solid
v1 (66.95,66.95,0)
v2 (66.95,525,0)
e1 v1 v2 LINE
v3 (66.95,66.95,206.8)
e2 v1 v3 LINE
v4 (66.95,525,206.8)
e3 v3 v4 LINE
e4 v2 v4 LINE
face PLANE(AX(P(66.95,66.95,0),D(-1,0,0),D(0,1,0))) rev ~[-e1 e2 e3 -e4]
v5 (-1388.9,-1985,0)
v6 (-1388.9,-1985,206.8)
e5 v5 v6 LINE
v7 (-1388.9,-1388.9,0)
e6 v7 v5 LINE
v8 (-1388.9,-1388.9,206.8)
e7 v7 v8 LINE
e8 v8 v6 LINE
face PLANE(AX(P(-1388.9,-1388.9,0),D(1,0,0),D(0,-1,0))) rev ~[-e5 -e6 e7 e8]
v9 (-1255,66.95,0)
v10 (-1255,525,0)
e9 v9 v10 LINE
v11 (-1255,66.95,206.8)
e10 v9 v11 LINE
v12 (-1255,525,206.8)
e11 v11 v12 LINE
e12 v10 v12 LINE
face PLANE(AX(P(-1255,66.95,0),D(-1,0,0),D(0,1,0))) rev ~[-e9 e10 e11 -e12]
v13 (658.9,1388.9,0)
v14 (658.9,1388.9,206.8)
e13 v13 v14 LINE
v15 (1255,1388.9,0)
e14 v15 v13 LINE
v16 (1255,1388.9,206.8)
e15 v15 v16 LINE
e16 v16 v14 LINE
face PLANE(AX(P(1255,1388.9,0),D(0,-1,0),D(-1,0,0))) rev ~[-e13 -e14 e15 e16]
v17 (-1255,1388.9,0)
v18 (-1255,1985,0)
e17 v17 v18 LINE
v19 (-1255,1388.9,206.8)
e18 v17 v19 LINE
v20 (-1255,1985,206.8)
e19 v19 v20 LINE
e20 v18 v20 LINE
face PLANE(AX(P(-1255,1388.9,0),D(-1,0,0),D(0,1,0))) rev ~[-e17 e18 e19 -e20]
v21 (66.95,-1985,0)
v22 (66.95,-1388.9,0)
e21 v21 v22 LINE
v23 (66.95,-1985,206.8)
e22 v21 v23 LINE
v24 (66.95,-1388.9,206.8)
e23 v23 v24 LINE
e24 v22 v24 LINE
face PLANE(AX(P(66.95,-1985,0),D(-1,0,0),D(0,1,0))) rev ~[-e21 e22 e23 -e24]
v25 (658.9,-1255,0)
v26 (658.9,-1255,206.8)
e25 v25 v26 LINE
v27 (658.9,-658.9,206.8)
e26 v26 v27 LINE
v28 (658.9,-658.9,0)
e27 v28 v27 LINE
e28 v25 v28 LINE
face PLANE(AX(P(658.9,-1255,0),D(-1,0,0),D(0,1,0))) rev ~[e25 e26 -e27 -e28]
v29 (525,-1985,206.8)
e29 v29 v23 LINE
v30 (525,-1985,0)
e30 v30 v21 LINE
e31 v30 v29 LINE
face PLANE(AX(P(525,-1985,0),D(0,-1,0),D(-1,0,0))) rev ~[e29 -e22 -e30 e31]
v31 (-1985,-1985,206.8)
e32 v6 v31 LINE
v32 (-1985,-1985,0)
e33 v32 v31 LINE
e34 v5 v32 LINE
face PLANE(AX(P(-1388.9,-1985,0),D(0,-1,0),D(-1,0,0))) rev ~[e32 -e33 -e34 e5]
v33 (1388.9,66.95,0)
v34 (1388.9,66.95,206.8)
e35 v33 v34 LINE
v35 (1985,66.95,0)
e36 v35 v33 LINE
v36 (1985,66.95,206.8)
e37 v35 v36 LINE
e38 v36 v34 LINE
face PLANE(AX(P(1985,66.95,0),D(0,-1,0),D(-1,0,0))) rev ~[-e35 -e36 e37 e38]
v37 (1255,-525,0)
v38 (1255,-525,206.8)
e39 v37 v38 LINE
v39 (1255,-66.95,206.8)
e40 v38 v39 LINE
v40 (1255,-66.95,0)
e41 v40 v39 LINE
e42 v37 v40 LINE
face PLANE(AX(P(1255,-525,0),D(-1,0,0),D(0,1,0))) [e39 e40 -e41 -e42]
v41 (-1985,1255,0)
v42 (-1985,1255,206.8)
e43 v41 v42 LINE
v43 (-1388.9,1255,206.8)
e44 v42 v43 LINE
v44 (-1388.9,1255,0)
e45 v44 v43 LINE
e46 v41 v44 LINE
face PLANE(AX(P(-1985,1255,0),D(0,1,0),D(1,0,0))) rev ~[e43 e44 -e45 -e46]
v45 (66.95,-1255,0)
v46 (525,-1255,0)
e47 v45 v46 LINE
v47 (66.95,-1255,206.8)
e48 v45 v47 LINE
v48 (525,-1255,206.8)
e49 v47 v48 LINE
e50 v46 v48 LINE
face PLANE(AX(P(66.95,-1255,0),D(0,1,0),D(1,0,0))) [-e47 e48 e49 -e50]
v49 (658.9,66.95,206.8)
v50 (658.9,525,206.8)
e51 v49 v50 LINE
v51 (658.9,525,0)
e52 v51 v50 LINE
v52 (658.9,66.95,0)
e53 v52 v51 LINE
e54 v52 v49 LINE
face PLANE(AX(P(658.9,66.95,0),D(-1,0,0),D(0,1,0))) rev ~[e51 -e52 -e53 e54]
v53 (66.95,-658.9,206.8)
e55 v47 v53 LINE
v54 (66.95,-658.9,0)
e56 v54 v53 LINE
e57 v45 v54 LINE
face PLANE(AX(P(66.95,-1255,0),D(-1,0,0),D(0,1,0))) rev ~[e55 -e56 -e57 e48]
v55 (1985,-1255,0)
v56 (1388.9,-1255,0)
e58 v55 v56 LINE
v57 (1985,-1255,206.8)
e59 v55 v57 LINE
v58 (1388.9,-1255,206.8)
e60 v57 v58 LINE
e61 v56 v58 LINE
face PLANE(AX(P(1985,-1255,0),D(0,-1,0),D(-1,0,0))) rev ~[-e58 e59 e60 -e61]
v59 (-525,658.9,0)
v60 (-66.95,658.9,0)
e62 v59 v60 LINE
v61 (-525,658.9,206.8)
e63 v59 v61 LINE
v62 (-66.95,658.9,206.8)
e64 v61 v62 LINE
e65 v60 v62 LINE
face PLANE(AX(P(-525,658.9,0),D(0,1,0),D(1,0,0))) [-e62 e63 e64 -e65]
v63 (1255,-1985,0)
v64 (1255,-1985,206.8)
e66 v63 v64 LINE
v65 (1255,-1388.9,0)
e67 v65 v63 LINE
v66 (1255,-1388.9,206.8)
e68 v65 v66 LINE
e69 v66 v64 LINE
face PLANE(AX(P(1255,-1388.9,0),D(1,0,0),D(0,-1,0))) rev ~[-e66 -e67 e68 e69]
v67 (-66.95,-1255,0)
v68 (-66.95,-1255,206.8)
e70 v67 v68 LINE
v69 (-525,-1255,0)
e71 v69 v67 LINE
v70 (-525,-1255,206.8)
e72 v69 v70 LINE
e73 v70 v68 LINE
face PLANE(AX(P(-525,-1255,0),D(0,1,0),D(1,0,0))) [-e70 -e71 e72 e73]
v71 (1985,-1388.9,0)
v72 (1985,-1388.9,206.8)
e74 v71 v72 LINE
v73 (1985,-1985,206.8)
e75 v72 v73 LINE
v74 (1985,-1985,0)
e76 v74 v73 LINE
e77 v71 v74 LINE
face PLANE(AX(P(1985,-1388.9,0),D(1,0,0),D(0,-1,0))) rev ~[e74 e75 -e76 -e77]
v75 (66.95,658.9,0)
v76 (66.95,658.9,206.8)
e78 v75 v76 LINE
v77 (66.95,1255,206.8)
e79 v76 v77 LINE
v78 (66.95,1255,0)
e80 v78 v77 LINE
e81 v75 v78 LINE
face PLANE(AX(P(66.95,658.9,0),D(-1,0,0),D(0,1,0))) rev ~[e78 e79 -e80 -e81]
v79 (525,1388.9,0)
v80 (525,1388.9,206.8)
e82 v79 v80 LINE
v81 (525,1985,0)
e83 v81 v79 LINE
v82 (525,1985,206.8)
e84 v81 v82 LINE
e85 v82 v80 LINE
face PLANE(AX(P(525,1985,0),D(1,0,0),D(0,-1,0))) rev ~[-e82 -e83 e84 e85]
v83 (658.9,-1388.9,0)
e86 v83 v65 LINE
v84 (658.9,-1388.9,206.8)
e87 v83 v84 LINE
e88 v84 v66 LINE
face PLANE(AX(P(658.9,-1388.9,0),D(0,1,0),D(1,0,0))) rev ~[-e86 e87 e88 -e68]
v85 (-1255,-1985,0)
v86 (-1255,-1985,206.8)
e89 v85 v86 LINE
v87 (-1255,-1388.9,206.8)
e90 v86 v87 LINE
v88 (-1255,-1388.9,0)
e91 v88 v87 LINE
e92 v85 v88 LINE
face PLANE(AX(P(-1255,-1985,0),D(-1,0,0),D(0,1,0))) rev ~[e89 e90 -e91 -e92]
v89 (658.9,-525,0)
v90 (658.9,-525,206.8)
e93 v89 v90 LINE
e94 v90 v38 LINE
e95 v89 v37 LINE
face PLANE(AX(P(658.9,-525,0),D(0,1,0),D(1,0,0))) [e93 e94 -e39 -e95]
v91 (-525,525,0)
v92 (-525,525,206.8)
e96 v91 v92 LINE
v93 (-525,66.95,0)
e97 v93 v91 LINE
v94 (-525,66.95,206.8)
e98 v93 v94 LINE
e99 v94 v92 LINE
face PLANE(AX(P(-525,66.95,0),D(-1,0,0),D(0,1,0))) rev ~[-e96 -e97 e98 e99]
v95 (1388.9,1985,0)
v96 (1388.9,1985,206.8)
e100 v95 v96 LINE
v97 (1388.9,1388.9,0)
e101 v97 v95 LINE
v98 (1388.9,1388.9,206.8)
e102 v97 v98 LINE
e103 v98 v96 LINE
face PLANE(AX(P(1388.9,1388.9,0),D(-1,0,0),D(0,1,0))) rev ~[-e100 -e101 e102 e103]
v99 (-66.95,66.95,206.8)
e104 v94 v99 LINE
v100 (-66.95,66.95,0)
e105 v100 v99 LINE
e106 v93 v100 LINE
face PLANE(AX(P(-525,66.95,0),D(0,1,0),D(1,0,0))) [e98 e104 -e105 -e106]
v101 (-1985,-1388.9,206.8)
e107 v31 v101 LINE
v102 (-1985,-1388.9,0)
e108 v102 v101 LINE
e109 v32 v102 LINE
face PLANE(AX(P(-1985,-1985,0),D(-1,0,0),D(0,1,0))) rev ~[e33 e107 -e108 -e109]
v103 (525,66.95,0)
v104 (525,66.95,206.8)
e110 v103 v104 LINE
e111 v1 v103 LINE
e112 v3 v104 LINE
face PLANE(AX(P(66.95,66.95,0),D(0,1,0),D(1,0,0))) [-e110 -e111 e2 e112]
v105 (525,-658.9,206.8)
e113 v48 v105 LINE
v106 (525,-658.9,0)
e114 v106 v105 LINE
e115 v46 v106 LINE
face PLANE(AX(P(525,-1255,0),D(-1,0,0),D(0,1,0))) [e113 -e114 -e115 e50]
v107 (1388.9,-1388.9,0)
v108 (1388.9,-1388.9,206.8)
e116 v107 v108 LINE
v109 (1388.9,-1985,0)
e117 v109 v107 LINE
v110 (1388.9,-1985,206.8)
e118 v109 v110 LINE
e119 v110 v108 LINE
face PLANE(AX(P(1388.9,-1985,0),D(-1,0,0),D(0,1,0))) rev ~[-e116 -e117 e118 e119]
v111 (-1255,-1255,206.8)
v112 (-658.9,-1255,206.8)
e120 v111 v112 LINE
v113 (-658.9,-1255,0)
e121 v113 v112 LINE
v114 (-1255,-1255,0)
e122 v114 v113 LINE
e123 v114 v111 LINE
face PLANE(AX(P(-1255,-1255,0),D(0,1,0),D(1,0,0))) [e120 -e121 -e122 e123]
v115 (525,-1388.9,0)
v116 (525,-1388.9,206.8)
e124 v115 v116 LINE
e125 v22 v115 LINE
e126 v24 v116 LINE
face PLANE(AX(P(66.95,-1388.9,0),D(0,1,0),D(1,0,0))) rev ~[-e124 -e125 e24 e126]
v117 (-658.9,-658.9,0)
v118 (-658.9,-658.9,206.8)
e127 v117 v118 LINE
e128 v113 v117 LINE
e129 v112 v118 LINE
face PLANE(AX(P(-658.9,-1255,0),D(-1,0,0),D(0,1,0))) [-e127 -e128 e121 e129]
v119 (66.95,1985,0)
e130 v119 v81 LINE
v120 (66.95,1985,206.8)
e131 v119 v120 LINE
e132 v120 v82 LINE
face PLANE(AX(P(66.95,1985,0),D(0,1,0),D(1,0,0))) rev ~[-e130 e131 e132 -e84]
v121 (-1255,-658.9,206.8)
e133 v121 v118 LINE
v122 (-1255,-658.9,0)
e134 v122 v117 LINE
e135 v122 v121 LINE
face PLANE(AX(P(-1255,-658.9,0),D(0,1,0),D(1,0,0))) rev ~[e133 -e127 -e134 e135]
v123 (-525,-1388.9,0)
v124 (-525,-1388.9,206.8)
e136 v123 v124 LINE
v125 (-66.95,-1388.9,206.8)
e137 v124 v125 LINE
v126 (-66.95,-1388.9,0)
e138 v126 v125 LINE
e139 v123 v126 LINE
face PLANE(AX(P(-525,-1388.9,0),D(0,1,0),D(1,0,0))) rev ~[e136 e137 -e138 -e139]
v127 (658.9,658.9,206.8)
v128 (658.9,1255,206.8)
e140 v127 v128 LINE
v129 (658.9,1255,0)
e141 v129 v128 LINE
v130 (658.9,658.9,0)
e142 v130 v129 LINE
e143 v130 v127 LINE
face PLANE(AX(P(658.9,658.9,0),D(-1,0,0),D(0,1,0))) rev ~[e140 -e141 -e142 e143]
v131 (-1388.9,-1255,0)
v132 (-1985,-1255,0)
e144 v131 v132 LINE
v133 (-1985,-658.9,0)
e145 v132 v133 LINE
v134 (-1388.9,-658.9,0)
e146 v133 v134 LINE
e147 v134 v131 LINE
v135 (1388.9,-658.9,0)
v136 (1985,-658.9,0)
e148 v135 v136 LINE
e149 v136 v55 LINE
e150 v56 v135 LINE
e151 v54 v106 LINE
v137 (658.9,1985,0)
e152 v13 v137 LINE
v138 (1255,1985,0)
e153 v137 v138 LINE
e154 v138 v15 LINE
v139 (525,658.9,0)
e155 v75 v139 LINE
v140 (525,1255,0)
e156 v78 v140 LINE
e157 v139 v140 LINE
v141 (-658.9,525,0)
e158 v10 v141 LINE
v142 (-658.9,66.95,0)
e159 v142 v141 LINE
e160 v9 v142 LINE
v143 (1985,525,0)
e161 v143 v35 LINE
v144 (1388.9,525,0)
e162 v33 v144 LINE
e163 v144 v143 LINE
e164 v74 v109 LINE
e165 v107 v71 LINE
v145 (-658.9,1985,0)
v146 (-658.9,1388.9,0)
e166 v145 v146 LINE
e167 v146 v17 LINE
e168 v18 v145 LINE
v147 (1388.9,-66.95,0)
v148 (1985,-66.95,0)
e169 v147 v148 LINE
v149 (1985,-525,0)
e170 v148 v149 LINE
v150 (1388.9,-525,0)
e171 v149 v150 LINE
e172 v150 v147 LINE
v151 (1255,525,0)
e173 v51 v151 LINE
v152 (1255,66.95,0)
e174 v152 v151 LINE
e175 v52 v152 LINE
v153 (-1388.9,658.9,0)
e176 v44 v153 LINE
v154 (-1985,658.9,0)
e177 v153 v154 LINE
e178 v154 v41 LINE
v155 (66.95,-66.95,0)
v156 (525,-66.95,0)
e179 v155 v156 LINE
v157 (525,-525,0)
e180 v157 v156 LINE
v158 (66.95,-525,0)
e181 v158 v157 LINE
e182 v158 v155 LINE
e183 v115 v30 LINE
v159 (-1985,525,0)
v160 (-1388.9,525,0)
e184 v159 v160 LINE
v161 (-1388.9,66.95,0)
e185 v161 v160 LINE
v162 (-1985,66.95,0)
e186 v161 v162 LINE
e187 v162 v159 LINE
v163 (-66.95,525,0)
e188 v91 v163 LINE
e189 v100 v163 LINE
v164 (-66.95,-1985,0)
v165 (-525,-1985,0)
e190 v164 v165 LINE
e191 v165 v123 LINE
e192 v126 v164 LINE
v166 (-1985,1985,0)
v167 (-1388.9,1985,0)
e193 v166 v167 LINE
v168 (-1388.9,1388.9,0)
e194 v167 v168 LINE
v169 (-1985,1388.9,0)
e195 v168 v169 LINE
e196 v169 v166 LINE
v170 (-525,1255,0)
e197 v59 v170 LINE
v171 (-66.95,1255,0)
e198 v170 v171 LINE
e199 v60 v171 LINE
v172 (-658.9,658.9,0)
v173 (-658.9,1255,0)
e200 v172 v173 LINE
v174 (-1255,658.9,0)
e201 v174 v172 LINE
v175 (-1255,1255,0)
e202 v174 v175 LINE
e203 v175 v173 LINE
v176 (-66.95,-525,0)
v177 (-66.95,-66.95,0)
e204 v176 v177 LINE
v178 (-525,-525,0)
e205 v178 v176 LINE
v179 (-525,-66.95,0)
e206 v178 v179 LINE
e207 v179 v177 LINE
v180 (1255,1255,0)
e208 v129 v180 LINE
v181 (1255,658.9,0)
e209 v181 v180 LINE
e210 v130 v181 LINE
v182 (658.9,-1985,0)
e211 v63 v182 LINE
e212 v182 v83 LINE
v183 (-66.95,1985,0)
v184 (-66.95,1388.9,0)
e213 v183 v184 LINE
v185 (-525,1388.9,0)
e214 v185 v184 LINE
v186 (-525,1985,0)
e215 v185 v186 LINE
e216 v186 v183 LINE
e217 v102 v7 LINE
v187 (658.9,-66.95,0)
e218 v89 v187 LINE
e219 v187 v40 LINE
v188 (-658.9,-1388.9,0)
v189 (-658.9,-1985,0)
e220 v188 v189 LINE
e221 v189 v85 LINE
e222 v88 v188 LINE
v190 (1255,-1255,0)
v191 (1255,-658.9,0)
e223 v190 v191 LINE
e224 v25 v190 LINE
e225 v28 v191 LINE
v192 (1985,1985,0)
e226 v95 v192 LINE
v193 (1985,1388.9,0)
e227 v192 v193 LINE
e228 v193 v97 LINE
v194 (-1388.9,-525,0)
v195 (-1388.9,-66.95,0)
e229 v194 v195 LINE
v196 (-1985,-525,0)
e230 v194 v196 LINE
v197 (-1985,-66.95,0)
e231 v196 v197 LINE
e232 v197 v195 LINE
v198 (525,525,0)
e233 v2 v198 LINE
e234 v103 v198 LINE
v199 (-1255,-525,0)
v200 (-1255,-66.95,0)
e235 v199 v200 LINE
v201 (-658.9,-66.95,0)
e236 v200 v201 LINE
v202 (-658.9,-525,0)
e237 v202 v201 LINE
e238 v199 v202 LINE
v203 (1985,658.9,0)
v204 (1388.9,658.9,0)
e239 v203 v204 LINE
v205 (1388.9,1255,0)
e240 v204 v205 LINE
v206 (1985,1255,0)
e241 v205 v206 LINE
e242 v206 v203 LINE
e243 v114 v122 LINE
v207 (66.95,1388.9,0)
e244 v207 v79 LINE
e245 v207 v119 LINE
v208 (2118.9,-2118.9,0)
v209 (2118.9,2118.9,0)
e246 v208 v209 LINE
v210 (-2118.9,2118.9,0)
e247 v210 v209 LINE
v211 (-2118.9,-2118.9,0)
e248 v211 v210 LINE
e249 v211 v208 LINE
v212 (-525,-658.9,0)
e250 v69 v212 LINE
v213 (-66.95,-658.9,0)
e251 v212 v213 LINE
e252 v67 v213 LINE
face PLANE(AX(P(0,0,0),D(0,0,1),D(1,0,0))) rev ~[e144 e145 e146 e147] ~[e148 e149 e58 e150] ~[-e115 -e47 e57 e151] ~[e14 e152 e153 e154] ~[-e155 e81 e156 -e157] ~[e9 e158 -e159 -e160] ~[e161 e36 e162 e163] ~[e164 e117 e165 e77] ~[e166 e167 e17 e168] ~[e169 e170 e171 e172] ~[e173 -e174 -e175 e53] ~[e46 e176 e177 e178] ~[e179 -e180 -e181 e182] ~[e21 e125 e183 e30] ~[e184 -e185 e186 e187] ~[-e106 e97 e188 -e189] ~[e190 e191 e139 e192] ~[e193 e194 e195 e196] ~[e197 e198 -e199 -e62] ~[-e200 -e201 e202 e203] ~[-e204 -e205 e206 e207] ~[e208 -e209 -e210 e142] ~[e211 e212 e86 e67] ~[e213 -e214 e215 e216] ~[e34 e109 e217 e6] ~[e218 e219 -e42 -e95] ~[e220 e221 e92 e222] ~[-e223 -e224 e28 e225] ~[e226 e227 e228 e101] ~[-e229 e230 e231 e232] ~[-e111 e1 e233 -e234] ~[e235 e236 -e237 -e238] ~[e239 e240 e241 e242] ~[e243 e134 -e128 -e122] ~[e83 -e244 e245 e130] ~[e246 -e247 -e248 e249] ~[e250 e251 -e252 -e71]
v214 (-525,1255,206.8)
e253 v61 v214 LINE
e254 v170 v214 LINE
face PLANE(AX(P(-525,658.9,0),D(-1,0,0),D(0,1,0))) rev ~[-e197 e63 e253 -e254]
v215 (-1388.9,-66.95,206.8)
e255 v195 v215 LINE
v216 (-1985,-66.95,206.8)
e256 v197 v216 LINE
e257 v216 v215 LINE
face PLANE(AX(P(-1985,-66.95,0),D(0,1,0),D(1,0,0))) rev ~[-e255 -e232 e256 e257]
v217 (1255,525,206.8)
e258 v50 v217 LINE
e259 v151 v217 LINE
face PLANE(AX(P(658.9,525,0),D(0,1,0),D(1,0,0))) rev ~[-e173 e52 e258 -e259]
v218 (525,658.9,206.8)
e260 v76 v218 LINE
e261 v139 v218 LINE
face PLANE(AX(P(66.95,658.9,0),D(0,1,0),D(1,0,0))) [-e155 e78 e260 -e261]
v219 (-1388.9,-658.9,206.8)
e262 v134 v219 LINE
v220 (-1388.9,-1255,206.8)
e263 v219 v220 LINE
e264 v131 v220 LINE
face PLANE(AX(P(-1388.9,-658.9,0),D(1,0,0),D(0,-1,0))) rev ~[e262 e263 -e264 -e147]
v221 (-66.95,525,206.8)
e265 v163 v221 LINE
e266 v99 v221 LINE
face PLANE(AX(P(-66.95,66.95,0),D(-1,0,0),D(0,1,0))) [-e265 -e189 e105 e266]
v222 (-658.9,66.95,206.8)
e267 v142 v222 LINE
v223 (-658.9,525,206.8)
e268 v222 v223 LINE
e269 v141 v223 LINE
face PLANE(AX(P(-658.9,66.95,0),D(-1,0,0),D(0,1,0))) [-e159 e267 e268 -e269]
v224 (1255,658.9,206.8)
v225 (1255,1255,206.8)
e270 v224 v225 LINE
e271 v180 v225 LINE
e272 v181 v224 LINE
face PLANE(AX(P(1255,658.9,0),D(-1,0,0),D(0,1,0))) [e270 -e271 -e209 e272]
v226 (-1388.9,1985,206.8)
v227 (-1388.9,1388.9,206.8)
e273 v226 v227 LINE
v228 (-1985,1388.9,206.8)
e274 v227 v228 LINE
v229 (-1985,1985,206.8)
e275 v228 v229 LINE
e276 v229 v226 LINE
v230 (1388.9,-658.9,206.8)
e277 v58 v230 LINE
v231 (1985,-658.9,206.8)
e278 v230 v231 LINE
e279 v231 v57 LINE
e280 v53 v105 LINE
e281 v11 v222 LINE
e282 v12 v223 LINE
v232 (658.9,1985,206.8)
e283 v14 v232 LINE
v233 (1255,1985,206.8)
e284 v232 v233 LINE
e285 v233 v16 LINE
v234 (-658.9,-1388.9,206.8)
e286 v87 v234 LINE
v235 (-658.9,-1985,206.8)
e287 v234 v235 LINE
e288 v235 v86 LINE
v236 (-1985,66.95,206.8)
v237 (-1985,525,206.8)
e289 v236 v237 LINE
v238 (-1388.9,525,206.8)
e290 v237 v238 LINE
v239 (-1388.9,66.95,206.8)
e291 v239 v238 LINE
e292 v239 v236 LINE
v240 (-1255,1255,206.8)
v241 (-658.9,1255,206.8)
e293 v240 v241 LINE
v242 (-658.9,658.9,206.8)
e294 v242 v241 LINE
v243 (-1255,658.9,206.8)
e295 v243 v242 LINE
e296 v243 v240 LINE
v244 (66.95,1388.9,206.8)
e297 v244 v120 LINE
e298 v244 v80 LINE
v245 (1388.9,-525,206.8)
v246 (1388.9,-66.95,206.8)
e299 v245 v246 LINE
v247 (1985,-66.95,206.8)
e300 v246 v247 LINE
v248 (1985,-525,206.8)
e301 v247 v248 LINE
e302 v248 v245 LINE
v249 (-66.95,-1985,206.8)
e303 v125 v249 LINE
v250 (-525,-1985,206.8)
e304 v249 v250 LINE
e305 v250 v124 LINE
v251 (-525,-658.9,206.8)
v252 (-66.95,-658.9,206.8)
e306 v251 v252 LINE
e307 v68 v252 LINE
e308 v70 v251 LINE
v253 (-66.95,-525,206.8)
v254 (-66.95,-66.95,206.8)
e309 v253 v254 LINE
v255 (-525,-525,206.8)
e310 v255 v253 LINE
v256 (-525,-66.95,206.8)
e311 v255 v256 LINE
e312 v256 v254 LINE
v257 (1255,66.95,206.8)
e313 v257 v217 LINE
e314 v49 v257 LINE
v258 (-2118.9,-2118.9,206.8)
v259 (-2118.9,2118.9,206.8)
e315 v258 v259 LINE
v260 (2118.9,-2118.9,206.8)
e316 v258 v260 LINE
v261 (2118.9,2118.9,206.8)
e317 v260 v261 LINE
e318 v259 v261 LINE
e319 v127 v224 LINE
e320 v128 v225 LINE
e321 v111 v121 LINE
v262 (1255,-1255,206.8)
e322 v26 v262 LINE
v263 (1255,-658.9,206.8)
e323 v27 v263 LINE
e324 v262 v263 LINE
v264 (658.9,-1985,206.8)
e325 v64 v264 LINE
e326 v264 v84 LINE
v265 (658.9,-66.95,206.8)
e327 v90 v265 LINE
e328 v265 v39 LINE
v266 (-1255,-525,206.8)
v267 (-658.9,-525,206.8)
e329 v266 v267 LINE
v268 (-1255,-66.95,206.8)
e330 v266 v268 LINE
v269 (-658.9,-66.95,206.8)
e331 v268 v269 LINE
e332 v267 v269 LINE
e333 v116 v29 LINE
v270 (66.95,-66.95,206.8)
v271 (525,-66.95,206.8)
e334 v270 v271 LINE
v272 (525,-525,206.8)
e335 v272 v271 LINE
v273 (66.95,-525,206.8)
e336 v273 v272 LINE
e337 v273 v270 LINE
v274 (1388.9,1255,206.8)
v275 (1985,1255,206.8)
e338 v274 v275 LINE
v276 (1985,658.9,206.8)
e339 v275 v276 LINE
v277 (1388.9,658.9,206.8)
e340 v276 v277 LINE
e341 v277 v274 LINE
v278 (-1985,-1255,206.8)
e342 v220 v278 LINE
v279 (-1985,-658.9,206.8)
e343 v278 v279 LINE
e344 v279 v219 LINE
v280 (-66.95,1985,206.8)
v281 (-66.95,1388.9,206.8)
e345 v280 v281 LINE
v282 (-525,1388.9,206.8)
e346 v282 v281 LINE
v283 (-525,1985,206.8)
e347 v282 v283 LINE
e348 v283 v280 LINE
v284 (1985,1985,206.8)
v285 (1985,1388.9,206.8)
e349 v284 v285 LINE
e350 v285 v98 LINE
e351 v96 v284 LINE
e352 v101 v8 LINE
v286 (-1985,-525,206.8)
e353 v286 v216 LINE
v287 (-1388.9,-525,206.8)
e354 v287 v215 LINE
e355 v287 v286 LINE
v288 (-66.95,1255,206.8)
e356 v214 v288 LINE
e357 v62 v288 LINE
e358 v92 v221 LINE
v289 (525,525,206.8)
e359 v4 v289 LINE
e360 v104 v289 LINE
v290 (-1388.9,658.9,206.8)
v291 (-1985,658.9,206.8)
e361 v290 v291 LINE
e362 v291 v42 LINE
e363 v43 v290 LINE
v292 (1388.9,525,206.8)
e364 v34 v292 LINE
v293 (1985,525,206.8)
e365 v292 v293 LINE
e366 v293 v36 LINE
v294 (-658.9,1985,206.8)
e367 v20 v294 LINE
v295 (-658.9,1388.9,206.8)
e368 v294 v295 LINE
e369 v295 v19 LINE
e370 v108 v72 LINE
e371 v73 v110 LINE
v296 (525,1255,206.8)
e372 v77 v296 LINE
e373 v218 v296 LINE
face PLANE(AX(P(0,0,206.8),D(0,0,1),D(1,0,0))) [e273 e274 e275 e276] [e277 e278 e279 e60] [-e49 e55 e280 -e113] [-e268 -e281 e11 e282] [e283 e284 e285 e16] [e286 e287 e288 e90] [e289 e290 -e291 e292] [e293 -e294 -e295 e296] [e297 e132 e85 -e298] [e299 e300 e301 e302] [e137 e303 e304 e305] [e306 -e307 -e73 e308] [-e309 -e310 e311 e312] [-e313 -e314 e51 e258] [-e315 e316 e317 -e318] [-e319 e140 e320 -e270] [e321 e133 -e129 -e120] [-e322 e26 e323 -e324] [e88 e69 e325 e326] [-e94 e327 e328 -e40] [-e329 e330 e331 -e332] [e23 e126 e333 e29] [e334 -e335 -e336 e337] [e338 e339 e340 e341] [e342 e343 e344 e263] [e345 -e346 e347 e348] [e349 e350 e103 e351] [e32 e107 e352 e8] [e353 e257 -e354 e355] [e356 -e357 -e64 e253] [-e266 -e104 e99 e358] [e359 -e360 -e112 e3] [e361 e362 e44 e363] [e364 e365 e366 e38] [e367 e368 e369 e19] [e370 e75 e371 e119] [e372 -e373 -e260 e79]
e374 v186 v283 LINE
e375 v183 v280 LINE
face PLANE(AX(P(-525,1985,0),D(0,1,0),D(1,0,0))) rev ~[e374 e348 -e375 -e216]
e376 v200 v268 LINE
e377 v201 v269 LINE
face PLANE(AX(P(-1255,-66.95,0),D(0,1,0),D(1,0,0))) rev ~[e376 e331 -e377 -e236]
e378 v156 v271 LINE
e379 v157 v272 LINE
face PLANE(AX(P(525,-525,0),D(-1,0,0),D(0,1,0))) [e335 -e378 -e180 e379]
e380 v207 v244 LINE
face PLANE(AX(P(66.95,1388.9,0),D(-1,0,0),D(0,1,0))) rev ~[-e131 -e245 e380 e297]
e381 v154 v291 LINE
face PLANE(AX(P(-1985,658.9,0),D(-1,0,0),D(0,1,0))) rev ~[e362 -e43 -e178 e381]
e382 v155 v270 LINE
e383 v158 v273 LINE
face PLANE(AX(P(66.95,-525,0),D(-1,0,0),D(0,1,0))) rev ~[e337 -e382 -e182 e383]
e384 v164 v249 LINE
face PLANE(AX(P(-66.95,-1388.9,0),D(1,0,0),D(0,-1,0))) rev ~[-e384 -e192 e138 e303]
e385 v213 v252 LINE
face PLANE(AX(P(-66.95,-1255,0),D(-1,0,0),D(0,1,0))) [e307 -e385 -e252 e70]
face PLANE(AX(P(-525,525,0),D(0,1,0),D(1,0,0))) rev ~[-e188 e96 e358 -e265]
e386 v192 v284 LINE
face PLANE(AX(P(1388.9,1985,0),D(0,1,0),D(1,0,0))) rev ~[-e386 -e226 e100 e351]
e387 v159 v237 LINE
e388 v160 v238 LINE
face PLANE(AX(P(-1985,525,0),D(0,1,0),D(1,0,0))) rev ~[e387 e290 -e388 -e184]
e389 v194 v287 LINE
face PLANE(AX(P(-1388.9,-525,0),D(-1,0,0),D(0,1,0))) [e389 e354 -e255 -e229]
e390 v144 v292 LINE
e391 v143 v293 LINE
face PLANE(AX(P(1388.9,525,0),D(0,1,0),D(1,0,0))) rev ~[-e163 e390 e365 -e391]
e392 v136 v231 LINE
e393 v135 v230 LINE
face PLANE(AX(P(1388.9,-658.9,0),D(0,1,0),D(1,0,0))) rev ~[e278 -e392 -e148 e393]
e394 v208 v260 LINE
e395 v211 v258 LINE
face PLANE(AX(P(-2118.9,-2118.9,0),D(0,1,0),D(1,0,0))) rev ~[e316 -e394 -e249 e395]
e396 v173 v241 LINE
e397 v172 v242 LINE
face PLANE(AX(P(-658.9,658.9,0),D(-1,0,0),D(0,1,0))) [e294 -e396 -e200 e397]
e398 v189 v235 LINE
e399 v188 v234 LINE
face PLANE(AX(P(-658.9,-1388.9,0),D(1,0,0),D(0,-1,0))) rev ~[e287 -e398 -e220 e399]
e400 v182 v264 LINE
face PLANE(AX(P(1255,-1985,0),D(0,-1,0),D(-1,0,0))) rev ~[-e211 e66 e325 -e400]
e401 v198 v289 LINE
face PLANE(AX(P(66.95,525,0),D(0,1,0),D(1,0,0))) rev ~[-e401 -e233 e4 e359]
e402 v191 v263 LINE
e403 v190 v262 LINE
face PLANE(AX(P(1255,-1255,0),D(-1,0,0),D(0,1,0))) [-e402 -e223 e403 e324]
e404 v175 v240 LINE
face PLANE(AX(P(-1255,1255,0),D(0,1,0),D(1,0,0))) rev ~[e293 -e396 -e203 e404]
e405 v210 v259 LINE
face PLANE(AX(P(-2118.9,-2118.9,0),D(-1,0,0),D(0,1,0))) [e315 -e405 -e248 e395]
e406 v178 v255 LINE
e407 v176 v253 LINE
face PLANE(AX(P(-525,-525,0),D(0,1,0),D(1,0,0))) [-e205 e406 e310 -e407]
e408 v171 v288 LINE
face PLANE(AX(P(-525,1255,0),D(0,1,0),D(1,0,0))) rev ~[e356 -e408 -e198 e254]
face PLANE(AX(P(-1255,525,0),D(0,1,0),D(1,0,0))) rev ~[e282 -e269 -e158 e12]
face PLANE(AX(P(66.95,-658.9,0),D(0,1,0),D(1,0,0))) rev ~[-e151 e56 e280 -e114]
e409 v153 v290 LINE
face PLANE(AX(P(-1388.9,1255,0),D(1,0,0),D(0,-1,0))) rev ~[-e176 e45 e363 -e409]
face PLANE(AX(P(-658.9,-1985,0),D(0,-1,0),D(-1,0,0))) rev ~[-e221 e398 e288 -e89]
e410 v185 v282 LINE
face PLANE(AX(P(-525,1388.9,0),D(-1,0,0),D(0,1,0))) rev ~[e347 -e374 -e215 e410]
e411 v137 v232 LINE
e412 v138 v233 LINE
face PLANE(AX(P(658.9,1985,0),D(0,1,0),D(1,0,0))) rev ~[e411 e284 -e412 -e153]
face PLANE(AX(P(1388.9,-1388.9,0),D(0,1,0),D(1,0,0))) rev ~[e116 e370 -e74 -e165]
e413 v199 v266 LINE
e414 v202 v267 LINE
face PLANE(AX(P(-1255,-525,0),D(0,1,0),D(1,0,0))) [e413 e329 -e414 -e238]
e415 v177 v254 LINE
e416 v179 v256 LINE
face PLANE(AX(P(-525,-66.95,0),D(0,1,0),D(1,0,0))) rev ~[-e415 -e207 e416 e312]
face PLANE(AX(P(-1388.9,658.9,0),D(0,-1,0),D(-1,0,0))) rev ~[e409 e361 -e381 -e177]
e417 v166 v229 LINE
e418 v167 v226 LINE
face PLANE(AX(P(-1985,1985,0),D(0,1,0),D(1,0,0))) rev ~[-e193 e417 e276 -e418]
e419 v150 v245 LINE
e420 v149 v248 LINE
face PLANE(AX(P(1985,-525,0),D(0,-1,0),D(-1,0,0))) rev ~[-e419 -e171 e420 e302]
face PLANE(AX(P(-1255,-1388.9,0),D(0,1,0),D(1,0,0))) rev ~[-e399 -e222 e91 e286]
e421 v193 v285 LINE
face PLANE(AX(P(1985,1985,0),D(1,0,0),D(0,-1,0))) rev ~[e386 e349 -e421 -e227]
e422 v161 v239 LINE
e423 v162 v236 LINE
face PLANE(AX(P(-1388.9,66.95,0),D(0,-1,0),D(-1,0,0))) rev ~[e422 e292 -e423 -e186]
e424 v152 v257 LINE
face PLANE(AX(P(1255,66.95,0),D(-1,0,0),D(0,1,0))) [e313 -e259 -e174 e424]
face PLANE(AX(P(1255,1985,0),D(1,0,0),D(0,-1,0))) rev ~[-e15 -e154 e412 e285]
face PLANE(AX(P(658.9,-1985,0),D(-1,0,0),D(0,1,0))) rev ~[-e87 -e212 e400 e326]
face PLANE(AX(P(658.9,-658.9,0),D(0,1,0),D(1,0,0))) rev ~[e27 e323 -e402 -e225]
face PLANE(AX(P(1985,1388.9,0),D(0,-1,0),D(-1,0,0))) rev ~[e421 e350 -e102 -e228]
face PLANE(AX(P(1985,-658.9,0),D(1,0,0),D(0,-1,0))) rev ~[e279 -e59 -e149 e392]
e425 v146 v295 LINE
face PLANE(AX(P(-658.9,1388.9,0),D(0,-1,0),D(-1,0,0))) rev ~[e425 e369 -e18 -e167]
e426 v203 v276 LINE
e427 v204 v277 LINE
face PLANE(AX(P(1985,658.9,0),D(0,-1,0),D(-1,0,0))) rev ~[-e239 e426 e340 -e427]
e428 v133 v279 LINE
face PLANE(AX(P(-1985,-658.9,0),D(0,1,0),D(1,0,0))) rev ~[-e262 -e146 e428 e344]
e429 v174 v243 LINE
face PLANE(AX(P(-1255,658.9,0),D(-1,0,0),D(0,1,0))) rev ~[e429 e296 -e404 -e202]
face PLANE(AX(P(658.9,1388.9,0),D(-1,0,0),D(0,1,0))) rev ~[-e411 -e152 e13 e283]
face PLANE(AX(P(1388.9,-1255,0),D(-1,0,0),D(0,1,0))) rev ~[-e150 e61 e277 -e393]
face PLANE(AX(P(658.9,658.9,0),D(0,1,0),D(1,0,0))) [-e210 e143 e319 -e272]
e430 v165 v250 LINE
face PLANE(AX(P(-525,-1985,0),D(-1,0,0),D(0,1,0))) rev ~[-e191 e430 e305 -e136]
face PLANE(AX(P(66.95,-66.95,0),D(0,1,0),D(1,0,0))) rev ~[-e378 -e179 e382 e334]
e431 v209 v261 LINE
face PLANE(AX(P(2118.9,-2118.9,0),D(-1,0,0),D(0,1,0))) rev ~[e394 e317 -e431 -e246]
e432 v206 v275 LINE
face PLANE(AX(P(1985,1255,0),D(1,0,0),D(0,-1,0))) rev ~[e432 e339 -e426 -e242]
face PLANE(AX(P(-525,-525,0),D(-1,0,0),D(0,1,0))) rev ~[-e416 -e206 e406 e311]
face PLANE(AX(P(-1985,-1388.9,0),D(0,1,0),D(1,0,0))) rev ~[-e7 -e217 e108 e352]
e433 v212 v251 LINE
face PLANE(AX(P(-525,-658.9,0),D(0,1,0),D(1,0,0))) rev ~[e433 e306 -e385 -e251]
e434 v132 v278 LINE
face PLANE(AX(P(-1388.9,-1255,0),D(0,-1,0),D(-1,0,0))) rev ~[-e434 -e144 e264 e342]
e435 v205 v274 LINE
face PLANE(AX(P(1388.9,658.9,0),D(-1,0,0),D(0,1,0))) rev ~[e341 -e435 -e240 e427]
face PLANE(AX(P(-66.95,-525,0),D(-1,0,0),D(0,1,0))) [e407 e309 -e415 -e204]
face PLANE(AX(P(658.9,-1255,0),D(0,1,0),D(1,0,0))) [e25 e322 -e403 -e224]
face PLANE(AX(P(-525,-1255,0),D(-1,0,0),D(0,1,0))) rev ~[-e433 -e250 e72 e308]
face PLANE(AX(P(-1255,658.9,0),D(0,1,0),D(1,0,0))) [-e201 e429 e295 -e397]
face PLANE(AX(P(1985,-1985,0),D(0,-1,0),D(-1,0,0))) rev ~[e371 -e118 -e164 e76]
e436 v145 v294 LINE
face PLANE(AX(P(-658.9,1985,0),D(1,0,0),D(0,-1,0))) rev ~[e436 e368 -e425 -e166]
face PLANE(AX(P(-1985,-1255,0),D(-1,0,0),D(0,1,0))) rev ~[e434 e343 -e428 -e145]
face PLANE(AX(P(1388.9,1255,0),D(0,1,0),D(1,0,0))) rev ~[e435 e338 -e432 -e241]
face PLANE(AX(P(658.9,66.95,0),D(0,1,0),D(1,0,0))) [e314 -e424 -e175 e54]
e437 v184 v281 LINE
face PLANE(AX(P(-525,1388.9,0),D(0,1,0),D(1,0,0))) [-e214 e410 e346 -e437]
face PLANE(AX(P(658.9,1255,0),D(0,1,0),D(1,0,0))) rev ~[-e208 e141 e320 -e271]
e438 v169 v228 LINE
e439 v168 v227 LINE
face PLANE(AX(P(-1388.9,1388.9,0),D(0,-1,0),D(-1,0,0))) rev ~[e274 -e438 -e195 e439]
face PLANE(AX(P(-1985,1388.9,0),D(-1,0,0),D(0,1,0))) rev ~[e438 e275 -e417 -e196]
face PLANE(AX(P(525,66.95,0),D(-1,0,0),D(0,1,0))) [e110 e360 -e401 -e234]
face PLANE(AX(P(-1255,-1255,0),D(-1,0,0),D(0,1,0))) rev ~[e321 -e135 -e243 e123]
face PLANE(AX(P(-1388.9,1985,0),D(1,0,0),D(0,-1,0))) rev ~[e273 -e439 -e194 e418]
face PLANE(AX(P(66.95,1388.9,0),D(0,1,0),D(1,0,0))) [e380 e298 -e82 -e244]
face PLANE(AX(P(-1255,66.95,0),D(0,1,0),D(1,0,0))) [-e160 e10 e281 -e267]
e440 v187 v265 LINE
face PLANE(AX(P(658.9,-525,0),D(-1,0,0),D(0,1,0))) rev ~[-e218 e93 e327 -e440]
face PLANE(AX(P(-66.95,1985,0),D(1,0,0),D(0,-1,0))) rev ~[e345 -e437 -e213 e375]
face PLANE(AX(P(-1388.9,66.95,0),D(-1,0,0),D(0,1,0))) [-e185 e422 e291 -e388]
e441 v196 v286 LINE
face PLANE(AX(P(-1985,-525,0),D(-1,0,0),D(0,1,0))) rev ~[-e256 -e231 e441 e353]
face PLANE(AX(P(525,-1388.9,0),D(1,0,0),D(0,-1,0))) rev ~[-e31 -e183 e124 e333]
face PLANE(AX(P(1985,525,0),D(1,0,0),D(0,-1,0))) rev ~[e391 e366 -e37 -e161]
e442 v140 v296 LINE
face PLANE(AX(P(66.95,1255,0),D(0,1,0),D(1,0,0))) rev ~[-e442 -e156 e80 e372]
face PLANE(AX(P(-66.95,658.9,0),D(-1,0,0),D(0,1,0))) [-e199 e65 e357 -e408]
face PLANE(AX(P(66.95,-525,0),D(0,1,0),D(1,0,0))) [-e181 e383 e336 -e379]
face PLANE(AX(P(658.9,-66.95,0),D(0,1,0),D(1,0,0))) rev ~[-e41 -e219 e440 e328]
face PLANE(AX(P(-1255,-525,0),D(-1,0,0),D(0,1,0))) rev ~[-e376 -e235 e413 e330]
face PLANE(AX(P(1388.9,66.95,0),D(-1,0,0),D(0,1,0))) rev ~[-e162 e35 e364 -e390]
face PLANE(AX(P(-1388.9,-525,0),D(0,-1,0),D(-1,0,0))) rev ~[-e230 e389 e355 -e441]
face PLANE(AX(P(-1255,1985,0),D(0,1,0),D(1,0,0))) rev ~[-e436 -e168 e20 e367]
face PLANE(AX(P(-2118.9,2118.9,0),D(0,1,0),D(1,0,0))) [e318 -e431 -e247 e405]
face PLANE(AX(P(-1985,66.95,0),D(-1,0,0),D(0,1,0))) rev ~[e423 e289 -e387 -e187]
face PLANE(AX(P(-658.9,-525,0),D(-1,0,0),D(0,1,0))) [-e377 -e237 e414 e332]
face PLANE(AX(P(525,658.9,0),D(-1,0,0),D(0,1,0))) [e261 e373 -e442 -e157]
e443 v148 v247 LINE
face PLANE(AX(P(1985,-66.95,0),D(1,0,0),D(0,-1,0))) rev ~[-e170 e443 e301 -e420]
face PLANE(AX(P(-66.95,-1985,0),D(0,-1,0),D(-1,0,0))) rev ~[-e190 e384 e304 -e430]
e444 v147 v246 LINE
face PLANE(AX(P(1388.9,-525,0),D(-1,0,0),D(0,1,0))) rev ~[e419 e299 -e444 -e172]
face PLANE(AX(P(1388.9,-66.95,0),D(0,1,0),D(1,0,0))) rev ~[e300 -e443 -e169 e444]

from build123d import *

# Parameters (mm, degrees)
F0_W     = 4237.8
F0_H     = 4237.8
F0_W_2   = 596.1
F0_H_2   = 133.9
F0_W_3   = 133.9
F0_H_3   = 596.1
F0_H_4   = 458.05
F0_W_4   = 458.05
F1_DEPTH = 206.8


with BuildPart() as f1:
    # F0 (on Top) → F1 (new body)
    with BuildSketch(Plane.XY):
        Rectangle(F0_W, F0_H)
        Polygon((1985, 66.95), (1985, 0), (1985, -66.95), (1985, -525), (1985, -658.9), (1985, -1255), (1985, -1388.9), (1985, -1985), (1388.9, -1985), (1255, -1985), (658.9, -1985), (525, -1985), (66.95, -1985), (4.19e-08, -1985), (-66.95, -1985), (-525, -1985), (-658.9, -1985), (-1255, -1985), (-1388.9, -1985), (-1985, -1985), (-1985, -1388.9), (-1985, -1255), (-1985, -658.9), (-1985, -525), (-1985, -66.95), (-1985, 1.1618e-06), (-1985, 66.95), (-1985, 525), (-1985, 658.9), (-1985, 1255), (-1985, 1388.9), (-1985, 1985), (-1388.9, 1985), (-1255, 1985), (-658.9, 1985), (-525, 1985), (-66.95, 1985), (0, 1985), (66.95, 1985), (525, 1985), (658.9, 1985), (1255, 1985), (1388.9, 1985), (1985, 1985), (1985, 1388.9), (1985, 1255), (1985, 658.9), (1985, 525), align=None, mode=Mode.SUBTRACT)
        with Locations((-956.95, 1321.95)):
            Rectangle(F0_W_2, F0_H_2)
        with Locations((-1321.95, 956.95)):
            Rectangle(F0_W_3, F0_H_3)
        with Locations((-956.95, -591.95)):
            Rectangle(F0_W_2, F0_H_2)
        with Locations((-1321.95, -956.95)):
            Rectangle(F0_W_3, F0_H_3)
        with Locations((-956.95, 0)):
            Rectangle(F0_W_2, F0_H_2)
        with Locations((-591.95, -956.95)):
            Rectangle(F0_W_3, F0_H_3)
        with Locations((-956.95, 591.95)):
            Rectangle(F0_W_2, F0_H_2)
        with Locations((-956.95, -1321.95)):
            Rectangle(F0_W_2, F0_H_2)
        with Locations((0, -956.95)):
            Rectangle(F0_W_3, F0_H_3)
        with Locations((-591.95, 956.95)):
            Rectangle(F0_W_3, F0_H_3)
        with Locations((0, 956.95)):
            Rectangle(F0_W_3, F0_H_3)
        with Locations((591.95, 956.95)):
            Rectangle(F0_W_3, F0_H_3)
        with Locations((1321.95, 956.95)):
            Rectangle(F0_W_3, F0_H_3)
        with Locations((956.95, 1321.95)):
            Rectangle(F0_W_2, F0_H_2)
        with Locations((956.95, 591.95)):
            Rectangle(F0_W_2, F0_H_2)
        with Locations((956.95, 0)):
            Rectangle(F0_W_2, F0_H_2)
        with Locations((956.95, -591.95)):
            Rectangle(F0_W_2, F0_H_2)
        with Locations((591.95, -956.95)):
            Rectangle(F0_W_3, F0_H_3)
        with Locations((1321.95, -956.95)):
            Rectangle(F0_W_3, F0_H_3)
        with Locations((956.95, -1321.95)):
            Rectangle(F0_W_2, F0_H_2)
        with BuildLine():
            Line((-1388.9, -66.95), (-1388.9, 66.95))
            Line((-1388.9, 66.95), (-1983.8706352734, 66.95))
            ThreePointArc((-1983.8706352734, 66.95), (-1984.717638726, 33.4797629929), (-1985, 1.1618e-06))
            ThreePointArc((-1985, 1.1618e-06), (-1984.7176387456, -33.4797618313), (-1983.8706352734, -66.95))
            Line((-1983.8706352734, -66.95), (-1388.9, -66.95))
        make_face()
        with BuildLine():
            Line((66.95, 1388.9), (66.95, 1983.8706352734))
            ThreePointArc((66.95, 1983.8706352734), (33.4797624121, 1984.7176387358), (0, 1985))
            ThreePointArc((0, 1985), (-33.4797624121, 1984.7176387358), (-66.95, 1983.8706352734))
            Line((-66.95, 1983.8706352734), (-66.95, 1388.9))
            Line((-66.95, 1388.9), (66.95, 1388.9))
        make_face()
        with BuildLine():
            ThreePointArc((1983.8706352734, -66.95), (1984.7176387358, -33.4797624121), (1985, 0))
            ThreePointArc((1985, 0), (1984.7176387358, 33.4797624121), (1983.8706352734, 66.95))
            Line((1983.8706352734, 66.95), (1388.9, 66.95))
            Line((1388.9, 66.95), (1388.9, -66.95))
            Line((1388.9, -66.95), (1983.8706352734, -66.95))
        make_face()
        with BuildLine():
            ThreePointArc((4.19e-08, -1985), (33.479762433, -1984.7176387354), (66.95, -1983.8706352734))
            Line((66.95, -1983.8706352734), (66.95, -1388.9))
            Line((66.95, -1388.9), (-66.95, -1388.9))
            Line((-66.95, -1388.9), (-66.95, -1983.8706352734))
            ThreePointArc((-66.95, -1983.8706352734), (-33.4797623912, -1984.7176387361), (4.19e-08, -1985))
        make_face()
        with BuildLine():
            Line((-658.9, 1388.9), (-525, 1388.9))
            Line((-525, 1388.9), (-525, 1914.3144987175))
            ThreePointArc((-525, 1914.3144987175), (-592.3199503859, 1894.5664613243), (-658.9, 1872.4518124641))
            Line((-658.9, 1872.4518124641), (-658.9, 1388.9))
        make_face()
        with BuildLine():
            Line((-1914.3144987175, 525), (-1388.9, 525))
            Line((-1388.9, 525), (-1388.9, 658.9))
            Line((-1388.9, 658.9), (-1872.4518124641, 658.9))
            ThreePointArc((-1872.4518124641, 658.9), (-1894.5664613243, 592.3199503858), (-1914.3144987175, 525))
        make_face()
        with BuildLine():
            Line((-1388.9, -658.9), (-1388.9, -525))
            Line((-1388.9, -525), (-1914.3144987175, -525))
            ThreePointArc((-1914.3144987175, -525), (-1894.5664613243, -592.3199503858), (-1872.4518124641, -658.9))
            Line((-1872.4518124641, -658.9), (-1388.9, -658.9))
        make_face()
        with BuildLine():
            Line((-525, -1914.3144987175), (-525, -1388.9))
            Line((-525, -1388.9), (-658.9, -1388.9))
            Line((-658.9, -1388.9), (-658.9, -1872.4518124641))
            ThreePointArc((-658.9, -1872.4518124641), (-592.3199503859, -1894.5664613243), (-525, -1914.3144987175))
        make_face()
        with BuildLine():
            Line((658.9, 1388.9), (658.9, 1872.4518124641))
            ThreePointArc((658.9, 1872.4518124641), (592.3199503858, 1894.5664613243), (525, 1914.3144987175))
            Line((525, 1914.3144987175), (525, 1388.9))
            Line((525, 1388.9), (658.9, 1388.9))
        make_face()
        with BuildLine():
            Line((1388.9, 525), (1914.3144987175, 525))
            ThreePointArc((1914.3144987175, 525), (1894.5664613243, 592.3199503859), (1872.4518124641, 658.9))
            Line((1872.451812464, 658.9), (1388.9, 658.9))
            Line((1388.9, 658.9), (1388.9, 525))
        make_face()
        with BuildLine():
            ThreePointArc((1872.4518124641, -658.9), (1894.5664613243, -592.3199503859), (1914.3144987175, -525))
            Line((1914.3144987175, -525), (1388.9, -525))
            Line((1388.9, -525), (1388.9, -658.9))
            Line((1388.9, -658.9), (1872.451812464, -658.9))
        make_face()
        with BuildLine():
            ThreePointArc((525, -1914.3144987175), (592.3199503858, -1894.5664613243), (658.9, -1872.4518124641))
            Line((658.9, -1872.4518124641), (658.9, -1388.9))
            Line((658.9, -1388.9), (525, -1388.9))
            Line((525, -1388.9), (525, -1914.3144987175))
        make_face()
        with BuildLine():
            ThreePointArc((-1388.9, 1418.1614118287), (-1323.3054721901, 1479.5565644042), (-1255, 1537.9206741571))
            Line((-1255, 1537.9206741571), (-1255, 1985))
            Line((-1255, 1985), (-1388.9, 1985))
            Line((-1388.9, 1985), (-1388.9, 1418.1614118287))
        make_face()
        with BuildLine():
            Line((-1985, 1255), (-1537.9206741571, 1255))
            ThreePointArc((-1537.9206741571, 1255), (-1479.5565644042, 1323.3054721902), (-1418.1614118287, 1388.9))
            Line((-1418.1614118287, 1388.9), (-1985, 1388.9))
            Line((-1985, 1388.9), (-1985, 1255))
        make_face()
        with BuildLine():
            ThreePointArc((-1418.1614118287, -1388.9), (-1479.5565644042, -1323.3054721902), (-1537.9206741571, -1255))
            Line((-1537.9206741571, -1255), (-1985, -1255))
            Line((-1985, -1255), (-1985, -1388.9))
            Line((-1985, -1388.9), (-1418.1614118287, -1388.9))
        make_face()
        with BuildLine():
            Line((-1255, -1985), (-1255, -1537.9206741571))
            ThreePointArc((-1255, -1537.9206741571), (-1323.3054721901, -1479.5565644042), (-1388.9, -1418.1614118287))
            Line((-1388.9, -1418.1614118287), (-1388.9, -1985))
            Line((-1388.9, -1985), (-1255, -1985))
        make_face()
        with BuildLine():
            ThreePointArc((1255, 1537.9206741572), (1323.3054721902, 1479.5565644042), (1388.9, 1418.1614118287))
            Line((1388.9, 1418.1614118287), (1388.9, 1985))
            Line((1388.9, 1985), (1255, 1985))
            Line((1255, 1985), (1255, 1537.9206741572))
        make_face()
        with BuildLine():
            ThreePointArc((1418.1614118287, 1388.9000000001), (1479.5565644042, 1323.3054721902), (1537.9206741572, 1255))
            Line((1537.9206741571, 1255), (1985, 1255))
            Line((1985, 1255), (1985, 1388.9))
            Line((1985, 1388.9), (1418.1614118286, 1388.9))
        make_face()
        with BuildLine():
            Line((1985, -1255), (1537.9206741571, -1255))
            ThreePointArc((1537.9206741572, -1255), (1479.5565644042, -1323.3054721902), (1418.1614118287, -1388.9000000001))
            Line((1418.1614118286, -1388.9), (1985, -1388.9))
            Line((1985, -1388.9), (1985, -1255))
        make_face()
        with BuildLine():
            Line((1388.9, -1985), (1388.9, -1418.1614118287))
            ThreePointArc((1388.9, -1418.1614118287), (1323.3054721901, -1479.5565644042), (1255, -1537.9206741572))
            Line((1255, -1537.9206741572), (1255, -1985))
            Line((1255, -1985), (1388.9, -1985))
        make_face()
        with Locations((-1321.95, 295.975)):
            Rectangle(F0_W_3, F0_H_4)
        with Locations((-1321.95, -295.975)):
            Rectangle(F0_W_3, F0_H_4)
        with Locations((-591.95, -295.975)):
            Rectangle(F0_W_3, F0_H_4)
        with Locations((-295.975, -591.95)):
            Rectangle(F0_W_4, F0_H_2)
        with Locations((-295.975, 0)):
            Rectangle(F0_W_4, F0_H_2)
        with Locations((-591.95, 295.975)):
            Rectangle(F0_W_3, F0_H_4)
        with Locations((-295.975, 591.95)):
            Rectangle(F0_W_4, F0_H_2)
        with Locations((-295.975, -1321.95)):
            Rectangle(F0_W_4, F0_H_2)
        with Locations((0, -295.975)):
            Rectangle(F0_W_3, F0_H_4)
        with Locations((0, 295.975)):
            Rectangle(F0_W_3, F0_H_4)
        with Locations((-295.975, 1321.95)):
            Rectangle(F0_W_4, F0_H_2)
        with Locations((295.975, 1321.95)):
            Rectangle(F0_W_4, F0_H_2)
        with Locations((295.975, 591.95)):
            Rectangle(F0_W_4, F0_H_2)
        with Locations((1321.95, 295.975)):
            Rectangle(F0_W_3, F0_H_4)
        with Locations((591.95, 295.975)):
            Rectangle(F0_W_3, F0_H_4)
        with Locations((295.975, 0)):
            Rectangle(F0_W_4, F0_H_2)
        with Locations((295.975, -591.95)):
            Rectangle(F0_W_4, F0_H_2)
        with Locations((591.95, -295.975)):
            Rectangle(F0_W_3, F0_H_4)
        with Locations((1321.95, -295.975)):
            Rectangle(F0_W_3, F0_H_4)
        with Locations((295.975, -1321.95)):
            Rectangle(F0_W_4, F0_H_2)
        with Locations((-1321.95, 1321.95)):
            Rectangle(F0_W_3, F0_H_2)
        with Locations((-1321.95, 591.95)):
            Rectangle(F0_W_3, F0_H_2)
        with Locations((-1321.95, 0)):
            Rectangle(F0_W_3, F0_H_2)
        with Locations((-1321.95, -591.95)):
            Rectangle(F0_W_3, F0_H_2)
        with Locations((-591.95, 0)):
            Rectangle(F0_W_3, F0_H_2)
        with Locations((-591.95, -591.95)):
            Rectangle(F0_W_3, F0_H_2)
        with Locations((-591.95, 591.95)):
            Rectangle(F0_W_3, F0_H_2)
        with Locations((-1321.95, -1321.95)):
            Rectangle(F0_W_3, F0_H_2)
        with Locations((-591.95, -1321.95)):
            Rectangle(F0_W_3, F0_H_2)
        with Locations((0, -1321.95)):
            Rectangle(F0_W_3, F0_H_2)
        with Locations((0, -591.95)):
            Rectangle(F0_W_3, F0_H_2)
        Rectangle(F0_W_3, F0_H_2)
        with Locations((0, 591.95)):
            Rectangle(F0_W_3, F0_H_2)
        with Locations((-591.95, 1321.95)):
            Rectangle(F0_W_3, F0_H_2)
        with Locations((0, 1321.95)):
            Rectangle(F0_W_3, F0_H_2)
        with Locations((591.95, 1321.95)):
            Rectangle(F0_W_3, F0_H_2)
        with Locations((591.95, 591.95)):
            Rectangle(F0_W_3, F0_H_2)
        with Locations((1321.95, 1321.95)):
            Rectangle(F0_W_3, F0_H_2)
        with Locations((1321.95, 591.95)):
            Rectangle(F0_W_3, F0_H_2)
        with Locations((591.95, 0)):
            Rectangle(F0_W_3, F0_H_2)
        with Locations((1321.95, 0)):
            Rectangle(F0_W_3, F0_H_2)
        with Locations((591.95, -591.95)):
            Rectangle(F0_W_3, F0_H_2)
        with Locations((1321.95, -591.95)):
            Rectangle(F0_W_3, F0_H_2)
        with Locations((1321.95, -1321.95)):
            Rectangle(F0_W_3, F0_H_2)
        with Locations((591.95, -1321.95)):
            Rectangle(F0_W_3, F0_H_2)
        with BuildLine():
            Line((-1537.9206741571, 1255), (-1388.9, 1255))
            Line((-1388.9, 1255), (-1388.9, 1388.9))
            Line((-1388.9, 1388.9), (-1418.1614118287, 1388.9))
            ThreePointArc((-1418.1614118287, 1388.9), (-1479.5565644042, 1323.3054721902), (-1537.9206741571, 1255))
        make_face()
        with BuildLine():
            Line((-1388.9, 1388.9), (-1255, 1388.9))
            Line((-1255, 1388.9), (-1255, 1537.9206741571))
            ThreePointArc((-1255, 1537.9206741571), (-1323.3054721901, 1479.5565644042), (-1388.9, 1418.1614118287))
            Line((-1388.9, 1418.1614118287), (-1388.9, 1388.9))
        make_face()
        with BuildLine():
            Line((-1388.9, -1388.9), (-1388.9, -1255))
            Line((-1388.9, -1255), (-1537.9206741571, -1255))
            ThreePointArc((-1537.9206741571, -1255), (-1479.5565644042, -1323.3054721902), (-1418.1614118287, -1388.9))
            Line((-1418.1614118287, -1388.9), (-1388.9, -1388.9))
        make_face()
        with BuildLine():
            Line((-1255, -1537.9206741571), (-1255, -1388.9))
            Line((-1255, -1388.9), (-1388.9, -1388.9))
            Line((-1388.9, -1388.9), (-1388.9, -1418.1614118287))
            ThreePointArc((-1388.9, -1418.1614118287), (-1323.3054721901, -1479.5565644042), (-1255, -1537.9206741571))
        make_face()
        with BuildLine():
            Line((1388.9, 1388.9), (1388.9, 1418.1614118287))
            ThreePointArc((1388.9, 1418.1614118287), (1323.3054721902, 1479.5565644042), (1255, 1537.9206741572))
            Line((1255, 1537.9206741572), (1255, 1388.9))
            Line((1255, 1388.9), (1388.9, 1388.9))
        make_face()
        with BuildLine():
            Line((1388.9, 1255), (1537.9206741571, 1255))
            ThreePointArc((1537.9206741572, 1255), (1479.5565644042, 1323.3054721902), (1418.1614118287, 1388.9000000001))
            Line((1418.1614118286, 1388.9), (1388.9, 1388.9))
            Line((1388.9, 1388.9), (1388.9, 1255))
        make_face()
        with BuildLine():
            ThreePointArc((1418.1614118287, -1388.9000000001), (1479.5565644042, -1323.3054721902), (1537.9206741572, -1255))
            Line((1537.9206741571, -1255), (1388.9, -1255))
            Line((1388.9, -1255), (1388.9, -1388.9))
            Line((1388.9, -1388.9), (1418.1614118286, -1388.9))
        make_face()
        with BuildLine():
            ThreePointArc((1255, -1537.9206741572), (1323.3054721901, -1479.5565644042), (1388.9, -1418.1614118287))
            Line((1388.9, -1418.1614118287), (1388.9, -1388.9))
            Line((1388.9, -1388.9), (1255, -1388.9))
            Line((1255, -1388.9), (1255, -1537.9206741572))
        make_face()
        with BuildLine():
            ThreePointArc((-658.9, 1872.4518124641), (-592.3199503859, 1894.5664613243), (-525, 1914.3144987175))
            Line((-525, 1914.3144987175), (-525, 1985))
            Line((-525, 1985), (-658.9, 1985))
            Line((-658.9, 1985), (-658.9, 1872.4518124641))
        make_face()
        with BuildLine():
            Line((-1985, 525), (-1914.3144987175, 525))
            ThreePointArc((-1914.3144987175, 525), (-1894.5664613243, 592.3199503858), (-1872.4518124641, 658.9))
            Line((-1872.4518124641, 658.9), (-1985, 658.9))
            Line((-1985, 658.9), (-1985, 525))
        make_face()
        with BuildLine():
            ThreePointArc((-1872.4518124641, -658.9), (-1894.5664613243, -592.3199503858), (-1914.3144987175, -525))
            Line((-1914.3144987175, -525), (-1985, -525))
            Line((-1985, -525), (-1985, -658.9))
            Line((-1985, -658.9), (-1872.4518124641, -658.9))
        make_face()
        with BuildLine():
            ThreePointArc((525, 1914.3144987175), (592.3199503858, 1894.5664613243), (658.9, 1872.4518124641))
            Line((658.9, 1872.4518124641), (658.9, 1985))
            Line((658.9, 1985), (525, 1985))
            Line((525, 1985), (525, 1914.3144987175))
        make_face()
        with BuildLine():
            ThreePointArc((1872.4518124641, 658.9), (1894.5664613243, 592.3199503859), (1914.3144987175, 525))
            Line((1914.3144987175, 525), (1985, 525))
            Line((1985, 525), (1985, 658.9))
            Line((1985, 658.9), (1872.451812464, 658.9))
        make_face()
        with BuildLine():
            Line((1985, -525), (1914.3144987175, -525))
            ThreePointArc((1914.3144987175, -525), (1894.5664613243, -592.3199503859), (1872.4518124641, -658.9))
            Line((1872.451812464, -658.9), (1985, -658.9))
            Line((1985, -658.9), (1985, -525))
        make_face()
        with BuildLine():
            Line((-525, -1985), (-525, -1914.3144987175))
            ThreePointArc((-525, -1914.3144987175), (-592.3199503859, -1894.5664613243), (-658.9, -1872.4518124641))
            Line((-658.9, -1872.4518124641), (-658.9, -1985))
            Line((-658.9, -1985), (-525, -1985))
        make_face()
        with BuildLine():
            Line((658.9, -1985), (658.9, -1872.4518124641))
            ThreePointArc((658.9, -1872.4518124641), (592.3199503858, -1894.5664613243), (525, -1914.3144987175))
            Line((525, -1914.3144987175), (525, -1985))
            Line((525, -1985), (658.9, -1985))
        make_face()
        with BuildLine():
            Line((-1985, -66.95), (-1983.8706352734, -66.95))
            ThreePointArc((-1983.8706352734, -66.95), (-1984.7176387456, -33.4797618313), (-1985, 1.1618e-06))
            Line((-1985, 1.1618e-06), (-1985, -66.95))
        make_face()
        with BuildLine():
            ThreePointArc((-1985, 1.1618e-06), (-1984.717638726, 33.4797629929), (-1983.8706352734, 66.95))
            Line((-1983.8706352734, 66.95), (-1985, 66.95))
            Line((-1985, 66.95), (-1985, 1.1618e-06))
        make_face()
        with BuildLine():
            ThreePointArc((-66.95, 1983.8706352734), (-33.4797624121, 1984.7176387358), (0, 1985))
            Line((0, 1985), (-66.95, 1985))
            Line((-66.95, 1985), (-66.95, 1983.8706352734))
        make_face()
        with BuildLine():
            ThreePointArc((0, 1985), (33.4797624121, 1984.7176387358), (66.95, 1983.8706352734))
            Line((66.95, 1983.8706352734), (66.95, 1985))
            Line((66.95, 1985), (0, 1985))
        make_face()
        with BuildLine():
            ThreePointArc((1983.8706352734, 66.95), (1984.7176387358, 33.4797624121), (1985, 0))
            Line((1985, 0), (1985, 66.95))
            Line((1985, 66.95), (1983.8706352734, 66.95))
        make_face()
        with BuildLine():
            Line((1985, -66.95), (1985, 0))
            ThreePointArc((1985, 0), (1984.7176387358, -33.4797624121), (1983.8706352734, -66.95))
            Line((1983.8706352734, -66.95), (1985, -66.95))
        make_face()
        with BuildLine():
            Line((66.95, -1985), (66.95, -1983.8706352734))
            ThreePointArc((66.95, -1983.8706352734), (33.479762433, -1984.7176387354), (4.19e-08, -1985))
            Line((4.19e-08, -1985), (66.95, -1985))
        make_face()
        with BuildLine():
            Line((-66.95, -1985), (4.19e-08, -1985))
            ThreePointArc((4.19e-08, -1985), (-33.4797623912, -1984.7176387361), (-66.95, -1983.8706352734))
            Line((-66.95, -1983.8706352734), (-66.95, -1985))
        make_face()
    extrude(amount=F1_DEPTH)


solid = f1.part
